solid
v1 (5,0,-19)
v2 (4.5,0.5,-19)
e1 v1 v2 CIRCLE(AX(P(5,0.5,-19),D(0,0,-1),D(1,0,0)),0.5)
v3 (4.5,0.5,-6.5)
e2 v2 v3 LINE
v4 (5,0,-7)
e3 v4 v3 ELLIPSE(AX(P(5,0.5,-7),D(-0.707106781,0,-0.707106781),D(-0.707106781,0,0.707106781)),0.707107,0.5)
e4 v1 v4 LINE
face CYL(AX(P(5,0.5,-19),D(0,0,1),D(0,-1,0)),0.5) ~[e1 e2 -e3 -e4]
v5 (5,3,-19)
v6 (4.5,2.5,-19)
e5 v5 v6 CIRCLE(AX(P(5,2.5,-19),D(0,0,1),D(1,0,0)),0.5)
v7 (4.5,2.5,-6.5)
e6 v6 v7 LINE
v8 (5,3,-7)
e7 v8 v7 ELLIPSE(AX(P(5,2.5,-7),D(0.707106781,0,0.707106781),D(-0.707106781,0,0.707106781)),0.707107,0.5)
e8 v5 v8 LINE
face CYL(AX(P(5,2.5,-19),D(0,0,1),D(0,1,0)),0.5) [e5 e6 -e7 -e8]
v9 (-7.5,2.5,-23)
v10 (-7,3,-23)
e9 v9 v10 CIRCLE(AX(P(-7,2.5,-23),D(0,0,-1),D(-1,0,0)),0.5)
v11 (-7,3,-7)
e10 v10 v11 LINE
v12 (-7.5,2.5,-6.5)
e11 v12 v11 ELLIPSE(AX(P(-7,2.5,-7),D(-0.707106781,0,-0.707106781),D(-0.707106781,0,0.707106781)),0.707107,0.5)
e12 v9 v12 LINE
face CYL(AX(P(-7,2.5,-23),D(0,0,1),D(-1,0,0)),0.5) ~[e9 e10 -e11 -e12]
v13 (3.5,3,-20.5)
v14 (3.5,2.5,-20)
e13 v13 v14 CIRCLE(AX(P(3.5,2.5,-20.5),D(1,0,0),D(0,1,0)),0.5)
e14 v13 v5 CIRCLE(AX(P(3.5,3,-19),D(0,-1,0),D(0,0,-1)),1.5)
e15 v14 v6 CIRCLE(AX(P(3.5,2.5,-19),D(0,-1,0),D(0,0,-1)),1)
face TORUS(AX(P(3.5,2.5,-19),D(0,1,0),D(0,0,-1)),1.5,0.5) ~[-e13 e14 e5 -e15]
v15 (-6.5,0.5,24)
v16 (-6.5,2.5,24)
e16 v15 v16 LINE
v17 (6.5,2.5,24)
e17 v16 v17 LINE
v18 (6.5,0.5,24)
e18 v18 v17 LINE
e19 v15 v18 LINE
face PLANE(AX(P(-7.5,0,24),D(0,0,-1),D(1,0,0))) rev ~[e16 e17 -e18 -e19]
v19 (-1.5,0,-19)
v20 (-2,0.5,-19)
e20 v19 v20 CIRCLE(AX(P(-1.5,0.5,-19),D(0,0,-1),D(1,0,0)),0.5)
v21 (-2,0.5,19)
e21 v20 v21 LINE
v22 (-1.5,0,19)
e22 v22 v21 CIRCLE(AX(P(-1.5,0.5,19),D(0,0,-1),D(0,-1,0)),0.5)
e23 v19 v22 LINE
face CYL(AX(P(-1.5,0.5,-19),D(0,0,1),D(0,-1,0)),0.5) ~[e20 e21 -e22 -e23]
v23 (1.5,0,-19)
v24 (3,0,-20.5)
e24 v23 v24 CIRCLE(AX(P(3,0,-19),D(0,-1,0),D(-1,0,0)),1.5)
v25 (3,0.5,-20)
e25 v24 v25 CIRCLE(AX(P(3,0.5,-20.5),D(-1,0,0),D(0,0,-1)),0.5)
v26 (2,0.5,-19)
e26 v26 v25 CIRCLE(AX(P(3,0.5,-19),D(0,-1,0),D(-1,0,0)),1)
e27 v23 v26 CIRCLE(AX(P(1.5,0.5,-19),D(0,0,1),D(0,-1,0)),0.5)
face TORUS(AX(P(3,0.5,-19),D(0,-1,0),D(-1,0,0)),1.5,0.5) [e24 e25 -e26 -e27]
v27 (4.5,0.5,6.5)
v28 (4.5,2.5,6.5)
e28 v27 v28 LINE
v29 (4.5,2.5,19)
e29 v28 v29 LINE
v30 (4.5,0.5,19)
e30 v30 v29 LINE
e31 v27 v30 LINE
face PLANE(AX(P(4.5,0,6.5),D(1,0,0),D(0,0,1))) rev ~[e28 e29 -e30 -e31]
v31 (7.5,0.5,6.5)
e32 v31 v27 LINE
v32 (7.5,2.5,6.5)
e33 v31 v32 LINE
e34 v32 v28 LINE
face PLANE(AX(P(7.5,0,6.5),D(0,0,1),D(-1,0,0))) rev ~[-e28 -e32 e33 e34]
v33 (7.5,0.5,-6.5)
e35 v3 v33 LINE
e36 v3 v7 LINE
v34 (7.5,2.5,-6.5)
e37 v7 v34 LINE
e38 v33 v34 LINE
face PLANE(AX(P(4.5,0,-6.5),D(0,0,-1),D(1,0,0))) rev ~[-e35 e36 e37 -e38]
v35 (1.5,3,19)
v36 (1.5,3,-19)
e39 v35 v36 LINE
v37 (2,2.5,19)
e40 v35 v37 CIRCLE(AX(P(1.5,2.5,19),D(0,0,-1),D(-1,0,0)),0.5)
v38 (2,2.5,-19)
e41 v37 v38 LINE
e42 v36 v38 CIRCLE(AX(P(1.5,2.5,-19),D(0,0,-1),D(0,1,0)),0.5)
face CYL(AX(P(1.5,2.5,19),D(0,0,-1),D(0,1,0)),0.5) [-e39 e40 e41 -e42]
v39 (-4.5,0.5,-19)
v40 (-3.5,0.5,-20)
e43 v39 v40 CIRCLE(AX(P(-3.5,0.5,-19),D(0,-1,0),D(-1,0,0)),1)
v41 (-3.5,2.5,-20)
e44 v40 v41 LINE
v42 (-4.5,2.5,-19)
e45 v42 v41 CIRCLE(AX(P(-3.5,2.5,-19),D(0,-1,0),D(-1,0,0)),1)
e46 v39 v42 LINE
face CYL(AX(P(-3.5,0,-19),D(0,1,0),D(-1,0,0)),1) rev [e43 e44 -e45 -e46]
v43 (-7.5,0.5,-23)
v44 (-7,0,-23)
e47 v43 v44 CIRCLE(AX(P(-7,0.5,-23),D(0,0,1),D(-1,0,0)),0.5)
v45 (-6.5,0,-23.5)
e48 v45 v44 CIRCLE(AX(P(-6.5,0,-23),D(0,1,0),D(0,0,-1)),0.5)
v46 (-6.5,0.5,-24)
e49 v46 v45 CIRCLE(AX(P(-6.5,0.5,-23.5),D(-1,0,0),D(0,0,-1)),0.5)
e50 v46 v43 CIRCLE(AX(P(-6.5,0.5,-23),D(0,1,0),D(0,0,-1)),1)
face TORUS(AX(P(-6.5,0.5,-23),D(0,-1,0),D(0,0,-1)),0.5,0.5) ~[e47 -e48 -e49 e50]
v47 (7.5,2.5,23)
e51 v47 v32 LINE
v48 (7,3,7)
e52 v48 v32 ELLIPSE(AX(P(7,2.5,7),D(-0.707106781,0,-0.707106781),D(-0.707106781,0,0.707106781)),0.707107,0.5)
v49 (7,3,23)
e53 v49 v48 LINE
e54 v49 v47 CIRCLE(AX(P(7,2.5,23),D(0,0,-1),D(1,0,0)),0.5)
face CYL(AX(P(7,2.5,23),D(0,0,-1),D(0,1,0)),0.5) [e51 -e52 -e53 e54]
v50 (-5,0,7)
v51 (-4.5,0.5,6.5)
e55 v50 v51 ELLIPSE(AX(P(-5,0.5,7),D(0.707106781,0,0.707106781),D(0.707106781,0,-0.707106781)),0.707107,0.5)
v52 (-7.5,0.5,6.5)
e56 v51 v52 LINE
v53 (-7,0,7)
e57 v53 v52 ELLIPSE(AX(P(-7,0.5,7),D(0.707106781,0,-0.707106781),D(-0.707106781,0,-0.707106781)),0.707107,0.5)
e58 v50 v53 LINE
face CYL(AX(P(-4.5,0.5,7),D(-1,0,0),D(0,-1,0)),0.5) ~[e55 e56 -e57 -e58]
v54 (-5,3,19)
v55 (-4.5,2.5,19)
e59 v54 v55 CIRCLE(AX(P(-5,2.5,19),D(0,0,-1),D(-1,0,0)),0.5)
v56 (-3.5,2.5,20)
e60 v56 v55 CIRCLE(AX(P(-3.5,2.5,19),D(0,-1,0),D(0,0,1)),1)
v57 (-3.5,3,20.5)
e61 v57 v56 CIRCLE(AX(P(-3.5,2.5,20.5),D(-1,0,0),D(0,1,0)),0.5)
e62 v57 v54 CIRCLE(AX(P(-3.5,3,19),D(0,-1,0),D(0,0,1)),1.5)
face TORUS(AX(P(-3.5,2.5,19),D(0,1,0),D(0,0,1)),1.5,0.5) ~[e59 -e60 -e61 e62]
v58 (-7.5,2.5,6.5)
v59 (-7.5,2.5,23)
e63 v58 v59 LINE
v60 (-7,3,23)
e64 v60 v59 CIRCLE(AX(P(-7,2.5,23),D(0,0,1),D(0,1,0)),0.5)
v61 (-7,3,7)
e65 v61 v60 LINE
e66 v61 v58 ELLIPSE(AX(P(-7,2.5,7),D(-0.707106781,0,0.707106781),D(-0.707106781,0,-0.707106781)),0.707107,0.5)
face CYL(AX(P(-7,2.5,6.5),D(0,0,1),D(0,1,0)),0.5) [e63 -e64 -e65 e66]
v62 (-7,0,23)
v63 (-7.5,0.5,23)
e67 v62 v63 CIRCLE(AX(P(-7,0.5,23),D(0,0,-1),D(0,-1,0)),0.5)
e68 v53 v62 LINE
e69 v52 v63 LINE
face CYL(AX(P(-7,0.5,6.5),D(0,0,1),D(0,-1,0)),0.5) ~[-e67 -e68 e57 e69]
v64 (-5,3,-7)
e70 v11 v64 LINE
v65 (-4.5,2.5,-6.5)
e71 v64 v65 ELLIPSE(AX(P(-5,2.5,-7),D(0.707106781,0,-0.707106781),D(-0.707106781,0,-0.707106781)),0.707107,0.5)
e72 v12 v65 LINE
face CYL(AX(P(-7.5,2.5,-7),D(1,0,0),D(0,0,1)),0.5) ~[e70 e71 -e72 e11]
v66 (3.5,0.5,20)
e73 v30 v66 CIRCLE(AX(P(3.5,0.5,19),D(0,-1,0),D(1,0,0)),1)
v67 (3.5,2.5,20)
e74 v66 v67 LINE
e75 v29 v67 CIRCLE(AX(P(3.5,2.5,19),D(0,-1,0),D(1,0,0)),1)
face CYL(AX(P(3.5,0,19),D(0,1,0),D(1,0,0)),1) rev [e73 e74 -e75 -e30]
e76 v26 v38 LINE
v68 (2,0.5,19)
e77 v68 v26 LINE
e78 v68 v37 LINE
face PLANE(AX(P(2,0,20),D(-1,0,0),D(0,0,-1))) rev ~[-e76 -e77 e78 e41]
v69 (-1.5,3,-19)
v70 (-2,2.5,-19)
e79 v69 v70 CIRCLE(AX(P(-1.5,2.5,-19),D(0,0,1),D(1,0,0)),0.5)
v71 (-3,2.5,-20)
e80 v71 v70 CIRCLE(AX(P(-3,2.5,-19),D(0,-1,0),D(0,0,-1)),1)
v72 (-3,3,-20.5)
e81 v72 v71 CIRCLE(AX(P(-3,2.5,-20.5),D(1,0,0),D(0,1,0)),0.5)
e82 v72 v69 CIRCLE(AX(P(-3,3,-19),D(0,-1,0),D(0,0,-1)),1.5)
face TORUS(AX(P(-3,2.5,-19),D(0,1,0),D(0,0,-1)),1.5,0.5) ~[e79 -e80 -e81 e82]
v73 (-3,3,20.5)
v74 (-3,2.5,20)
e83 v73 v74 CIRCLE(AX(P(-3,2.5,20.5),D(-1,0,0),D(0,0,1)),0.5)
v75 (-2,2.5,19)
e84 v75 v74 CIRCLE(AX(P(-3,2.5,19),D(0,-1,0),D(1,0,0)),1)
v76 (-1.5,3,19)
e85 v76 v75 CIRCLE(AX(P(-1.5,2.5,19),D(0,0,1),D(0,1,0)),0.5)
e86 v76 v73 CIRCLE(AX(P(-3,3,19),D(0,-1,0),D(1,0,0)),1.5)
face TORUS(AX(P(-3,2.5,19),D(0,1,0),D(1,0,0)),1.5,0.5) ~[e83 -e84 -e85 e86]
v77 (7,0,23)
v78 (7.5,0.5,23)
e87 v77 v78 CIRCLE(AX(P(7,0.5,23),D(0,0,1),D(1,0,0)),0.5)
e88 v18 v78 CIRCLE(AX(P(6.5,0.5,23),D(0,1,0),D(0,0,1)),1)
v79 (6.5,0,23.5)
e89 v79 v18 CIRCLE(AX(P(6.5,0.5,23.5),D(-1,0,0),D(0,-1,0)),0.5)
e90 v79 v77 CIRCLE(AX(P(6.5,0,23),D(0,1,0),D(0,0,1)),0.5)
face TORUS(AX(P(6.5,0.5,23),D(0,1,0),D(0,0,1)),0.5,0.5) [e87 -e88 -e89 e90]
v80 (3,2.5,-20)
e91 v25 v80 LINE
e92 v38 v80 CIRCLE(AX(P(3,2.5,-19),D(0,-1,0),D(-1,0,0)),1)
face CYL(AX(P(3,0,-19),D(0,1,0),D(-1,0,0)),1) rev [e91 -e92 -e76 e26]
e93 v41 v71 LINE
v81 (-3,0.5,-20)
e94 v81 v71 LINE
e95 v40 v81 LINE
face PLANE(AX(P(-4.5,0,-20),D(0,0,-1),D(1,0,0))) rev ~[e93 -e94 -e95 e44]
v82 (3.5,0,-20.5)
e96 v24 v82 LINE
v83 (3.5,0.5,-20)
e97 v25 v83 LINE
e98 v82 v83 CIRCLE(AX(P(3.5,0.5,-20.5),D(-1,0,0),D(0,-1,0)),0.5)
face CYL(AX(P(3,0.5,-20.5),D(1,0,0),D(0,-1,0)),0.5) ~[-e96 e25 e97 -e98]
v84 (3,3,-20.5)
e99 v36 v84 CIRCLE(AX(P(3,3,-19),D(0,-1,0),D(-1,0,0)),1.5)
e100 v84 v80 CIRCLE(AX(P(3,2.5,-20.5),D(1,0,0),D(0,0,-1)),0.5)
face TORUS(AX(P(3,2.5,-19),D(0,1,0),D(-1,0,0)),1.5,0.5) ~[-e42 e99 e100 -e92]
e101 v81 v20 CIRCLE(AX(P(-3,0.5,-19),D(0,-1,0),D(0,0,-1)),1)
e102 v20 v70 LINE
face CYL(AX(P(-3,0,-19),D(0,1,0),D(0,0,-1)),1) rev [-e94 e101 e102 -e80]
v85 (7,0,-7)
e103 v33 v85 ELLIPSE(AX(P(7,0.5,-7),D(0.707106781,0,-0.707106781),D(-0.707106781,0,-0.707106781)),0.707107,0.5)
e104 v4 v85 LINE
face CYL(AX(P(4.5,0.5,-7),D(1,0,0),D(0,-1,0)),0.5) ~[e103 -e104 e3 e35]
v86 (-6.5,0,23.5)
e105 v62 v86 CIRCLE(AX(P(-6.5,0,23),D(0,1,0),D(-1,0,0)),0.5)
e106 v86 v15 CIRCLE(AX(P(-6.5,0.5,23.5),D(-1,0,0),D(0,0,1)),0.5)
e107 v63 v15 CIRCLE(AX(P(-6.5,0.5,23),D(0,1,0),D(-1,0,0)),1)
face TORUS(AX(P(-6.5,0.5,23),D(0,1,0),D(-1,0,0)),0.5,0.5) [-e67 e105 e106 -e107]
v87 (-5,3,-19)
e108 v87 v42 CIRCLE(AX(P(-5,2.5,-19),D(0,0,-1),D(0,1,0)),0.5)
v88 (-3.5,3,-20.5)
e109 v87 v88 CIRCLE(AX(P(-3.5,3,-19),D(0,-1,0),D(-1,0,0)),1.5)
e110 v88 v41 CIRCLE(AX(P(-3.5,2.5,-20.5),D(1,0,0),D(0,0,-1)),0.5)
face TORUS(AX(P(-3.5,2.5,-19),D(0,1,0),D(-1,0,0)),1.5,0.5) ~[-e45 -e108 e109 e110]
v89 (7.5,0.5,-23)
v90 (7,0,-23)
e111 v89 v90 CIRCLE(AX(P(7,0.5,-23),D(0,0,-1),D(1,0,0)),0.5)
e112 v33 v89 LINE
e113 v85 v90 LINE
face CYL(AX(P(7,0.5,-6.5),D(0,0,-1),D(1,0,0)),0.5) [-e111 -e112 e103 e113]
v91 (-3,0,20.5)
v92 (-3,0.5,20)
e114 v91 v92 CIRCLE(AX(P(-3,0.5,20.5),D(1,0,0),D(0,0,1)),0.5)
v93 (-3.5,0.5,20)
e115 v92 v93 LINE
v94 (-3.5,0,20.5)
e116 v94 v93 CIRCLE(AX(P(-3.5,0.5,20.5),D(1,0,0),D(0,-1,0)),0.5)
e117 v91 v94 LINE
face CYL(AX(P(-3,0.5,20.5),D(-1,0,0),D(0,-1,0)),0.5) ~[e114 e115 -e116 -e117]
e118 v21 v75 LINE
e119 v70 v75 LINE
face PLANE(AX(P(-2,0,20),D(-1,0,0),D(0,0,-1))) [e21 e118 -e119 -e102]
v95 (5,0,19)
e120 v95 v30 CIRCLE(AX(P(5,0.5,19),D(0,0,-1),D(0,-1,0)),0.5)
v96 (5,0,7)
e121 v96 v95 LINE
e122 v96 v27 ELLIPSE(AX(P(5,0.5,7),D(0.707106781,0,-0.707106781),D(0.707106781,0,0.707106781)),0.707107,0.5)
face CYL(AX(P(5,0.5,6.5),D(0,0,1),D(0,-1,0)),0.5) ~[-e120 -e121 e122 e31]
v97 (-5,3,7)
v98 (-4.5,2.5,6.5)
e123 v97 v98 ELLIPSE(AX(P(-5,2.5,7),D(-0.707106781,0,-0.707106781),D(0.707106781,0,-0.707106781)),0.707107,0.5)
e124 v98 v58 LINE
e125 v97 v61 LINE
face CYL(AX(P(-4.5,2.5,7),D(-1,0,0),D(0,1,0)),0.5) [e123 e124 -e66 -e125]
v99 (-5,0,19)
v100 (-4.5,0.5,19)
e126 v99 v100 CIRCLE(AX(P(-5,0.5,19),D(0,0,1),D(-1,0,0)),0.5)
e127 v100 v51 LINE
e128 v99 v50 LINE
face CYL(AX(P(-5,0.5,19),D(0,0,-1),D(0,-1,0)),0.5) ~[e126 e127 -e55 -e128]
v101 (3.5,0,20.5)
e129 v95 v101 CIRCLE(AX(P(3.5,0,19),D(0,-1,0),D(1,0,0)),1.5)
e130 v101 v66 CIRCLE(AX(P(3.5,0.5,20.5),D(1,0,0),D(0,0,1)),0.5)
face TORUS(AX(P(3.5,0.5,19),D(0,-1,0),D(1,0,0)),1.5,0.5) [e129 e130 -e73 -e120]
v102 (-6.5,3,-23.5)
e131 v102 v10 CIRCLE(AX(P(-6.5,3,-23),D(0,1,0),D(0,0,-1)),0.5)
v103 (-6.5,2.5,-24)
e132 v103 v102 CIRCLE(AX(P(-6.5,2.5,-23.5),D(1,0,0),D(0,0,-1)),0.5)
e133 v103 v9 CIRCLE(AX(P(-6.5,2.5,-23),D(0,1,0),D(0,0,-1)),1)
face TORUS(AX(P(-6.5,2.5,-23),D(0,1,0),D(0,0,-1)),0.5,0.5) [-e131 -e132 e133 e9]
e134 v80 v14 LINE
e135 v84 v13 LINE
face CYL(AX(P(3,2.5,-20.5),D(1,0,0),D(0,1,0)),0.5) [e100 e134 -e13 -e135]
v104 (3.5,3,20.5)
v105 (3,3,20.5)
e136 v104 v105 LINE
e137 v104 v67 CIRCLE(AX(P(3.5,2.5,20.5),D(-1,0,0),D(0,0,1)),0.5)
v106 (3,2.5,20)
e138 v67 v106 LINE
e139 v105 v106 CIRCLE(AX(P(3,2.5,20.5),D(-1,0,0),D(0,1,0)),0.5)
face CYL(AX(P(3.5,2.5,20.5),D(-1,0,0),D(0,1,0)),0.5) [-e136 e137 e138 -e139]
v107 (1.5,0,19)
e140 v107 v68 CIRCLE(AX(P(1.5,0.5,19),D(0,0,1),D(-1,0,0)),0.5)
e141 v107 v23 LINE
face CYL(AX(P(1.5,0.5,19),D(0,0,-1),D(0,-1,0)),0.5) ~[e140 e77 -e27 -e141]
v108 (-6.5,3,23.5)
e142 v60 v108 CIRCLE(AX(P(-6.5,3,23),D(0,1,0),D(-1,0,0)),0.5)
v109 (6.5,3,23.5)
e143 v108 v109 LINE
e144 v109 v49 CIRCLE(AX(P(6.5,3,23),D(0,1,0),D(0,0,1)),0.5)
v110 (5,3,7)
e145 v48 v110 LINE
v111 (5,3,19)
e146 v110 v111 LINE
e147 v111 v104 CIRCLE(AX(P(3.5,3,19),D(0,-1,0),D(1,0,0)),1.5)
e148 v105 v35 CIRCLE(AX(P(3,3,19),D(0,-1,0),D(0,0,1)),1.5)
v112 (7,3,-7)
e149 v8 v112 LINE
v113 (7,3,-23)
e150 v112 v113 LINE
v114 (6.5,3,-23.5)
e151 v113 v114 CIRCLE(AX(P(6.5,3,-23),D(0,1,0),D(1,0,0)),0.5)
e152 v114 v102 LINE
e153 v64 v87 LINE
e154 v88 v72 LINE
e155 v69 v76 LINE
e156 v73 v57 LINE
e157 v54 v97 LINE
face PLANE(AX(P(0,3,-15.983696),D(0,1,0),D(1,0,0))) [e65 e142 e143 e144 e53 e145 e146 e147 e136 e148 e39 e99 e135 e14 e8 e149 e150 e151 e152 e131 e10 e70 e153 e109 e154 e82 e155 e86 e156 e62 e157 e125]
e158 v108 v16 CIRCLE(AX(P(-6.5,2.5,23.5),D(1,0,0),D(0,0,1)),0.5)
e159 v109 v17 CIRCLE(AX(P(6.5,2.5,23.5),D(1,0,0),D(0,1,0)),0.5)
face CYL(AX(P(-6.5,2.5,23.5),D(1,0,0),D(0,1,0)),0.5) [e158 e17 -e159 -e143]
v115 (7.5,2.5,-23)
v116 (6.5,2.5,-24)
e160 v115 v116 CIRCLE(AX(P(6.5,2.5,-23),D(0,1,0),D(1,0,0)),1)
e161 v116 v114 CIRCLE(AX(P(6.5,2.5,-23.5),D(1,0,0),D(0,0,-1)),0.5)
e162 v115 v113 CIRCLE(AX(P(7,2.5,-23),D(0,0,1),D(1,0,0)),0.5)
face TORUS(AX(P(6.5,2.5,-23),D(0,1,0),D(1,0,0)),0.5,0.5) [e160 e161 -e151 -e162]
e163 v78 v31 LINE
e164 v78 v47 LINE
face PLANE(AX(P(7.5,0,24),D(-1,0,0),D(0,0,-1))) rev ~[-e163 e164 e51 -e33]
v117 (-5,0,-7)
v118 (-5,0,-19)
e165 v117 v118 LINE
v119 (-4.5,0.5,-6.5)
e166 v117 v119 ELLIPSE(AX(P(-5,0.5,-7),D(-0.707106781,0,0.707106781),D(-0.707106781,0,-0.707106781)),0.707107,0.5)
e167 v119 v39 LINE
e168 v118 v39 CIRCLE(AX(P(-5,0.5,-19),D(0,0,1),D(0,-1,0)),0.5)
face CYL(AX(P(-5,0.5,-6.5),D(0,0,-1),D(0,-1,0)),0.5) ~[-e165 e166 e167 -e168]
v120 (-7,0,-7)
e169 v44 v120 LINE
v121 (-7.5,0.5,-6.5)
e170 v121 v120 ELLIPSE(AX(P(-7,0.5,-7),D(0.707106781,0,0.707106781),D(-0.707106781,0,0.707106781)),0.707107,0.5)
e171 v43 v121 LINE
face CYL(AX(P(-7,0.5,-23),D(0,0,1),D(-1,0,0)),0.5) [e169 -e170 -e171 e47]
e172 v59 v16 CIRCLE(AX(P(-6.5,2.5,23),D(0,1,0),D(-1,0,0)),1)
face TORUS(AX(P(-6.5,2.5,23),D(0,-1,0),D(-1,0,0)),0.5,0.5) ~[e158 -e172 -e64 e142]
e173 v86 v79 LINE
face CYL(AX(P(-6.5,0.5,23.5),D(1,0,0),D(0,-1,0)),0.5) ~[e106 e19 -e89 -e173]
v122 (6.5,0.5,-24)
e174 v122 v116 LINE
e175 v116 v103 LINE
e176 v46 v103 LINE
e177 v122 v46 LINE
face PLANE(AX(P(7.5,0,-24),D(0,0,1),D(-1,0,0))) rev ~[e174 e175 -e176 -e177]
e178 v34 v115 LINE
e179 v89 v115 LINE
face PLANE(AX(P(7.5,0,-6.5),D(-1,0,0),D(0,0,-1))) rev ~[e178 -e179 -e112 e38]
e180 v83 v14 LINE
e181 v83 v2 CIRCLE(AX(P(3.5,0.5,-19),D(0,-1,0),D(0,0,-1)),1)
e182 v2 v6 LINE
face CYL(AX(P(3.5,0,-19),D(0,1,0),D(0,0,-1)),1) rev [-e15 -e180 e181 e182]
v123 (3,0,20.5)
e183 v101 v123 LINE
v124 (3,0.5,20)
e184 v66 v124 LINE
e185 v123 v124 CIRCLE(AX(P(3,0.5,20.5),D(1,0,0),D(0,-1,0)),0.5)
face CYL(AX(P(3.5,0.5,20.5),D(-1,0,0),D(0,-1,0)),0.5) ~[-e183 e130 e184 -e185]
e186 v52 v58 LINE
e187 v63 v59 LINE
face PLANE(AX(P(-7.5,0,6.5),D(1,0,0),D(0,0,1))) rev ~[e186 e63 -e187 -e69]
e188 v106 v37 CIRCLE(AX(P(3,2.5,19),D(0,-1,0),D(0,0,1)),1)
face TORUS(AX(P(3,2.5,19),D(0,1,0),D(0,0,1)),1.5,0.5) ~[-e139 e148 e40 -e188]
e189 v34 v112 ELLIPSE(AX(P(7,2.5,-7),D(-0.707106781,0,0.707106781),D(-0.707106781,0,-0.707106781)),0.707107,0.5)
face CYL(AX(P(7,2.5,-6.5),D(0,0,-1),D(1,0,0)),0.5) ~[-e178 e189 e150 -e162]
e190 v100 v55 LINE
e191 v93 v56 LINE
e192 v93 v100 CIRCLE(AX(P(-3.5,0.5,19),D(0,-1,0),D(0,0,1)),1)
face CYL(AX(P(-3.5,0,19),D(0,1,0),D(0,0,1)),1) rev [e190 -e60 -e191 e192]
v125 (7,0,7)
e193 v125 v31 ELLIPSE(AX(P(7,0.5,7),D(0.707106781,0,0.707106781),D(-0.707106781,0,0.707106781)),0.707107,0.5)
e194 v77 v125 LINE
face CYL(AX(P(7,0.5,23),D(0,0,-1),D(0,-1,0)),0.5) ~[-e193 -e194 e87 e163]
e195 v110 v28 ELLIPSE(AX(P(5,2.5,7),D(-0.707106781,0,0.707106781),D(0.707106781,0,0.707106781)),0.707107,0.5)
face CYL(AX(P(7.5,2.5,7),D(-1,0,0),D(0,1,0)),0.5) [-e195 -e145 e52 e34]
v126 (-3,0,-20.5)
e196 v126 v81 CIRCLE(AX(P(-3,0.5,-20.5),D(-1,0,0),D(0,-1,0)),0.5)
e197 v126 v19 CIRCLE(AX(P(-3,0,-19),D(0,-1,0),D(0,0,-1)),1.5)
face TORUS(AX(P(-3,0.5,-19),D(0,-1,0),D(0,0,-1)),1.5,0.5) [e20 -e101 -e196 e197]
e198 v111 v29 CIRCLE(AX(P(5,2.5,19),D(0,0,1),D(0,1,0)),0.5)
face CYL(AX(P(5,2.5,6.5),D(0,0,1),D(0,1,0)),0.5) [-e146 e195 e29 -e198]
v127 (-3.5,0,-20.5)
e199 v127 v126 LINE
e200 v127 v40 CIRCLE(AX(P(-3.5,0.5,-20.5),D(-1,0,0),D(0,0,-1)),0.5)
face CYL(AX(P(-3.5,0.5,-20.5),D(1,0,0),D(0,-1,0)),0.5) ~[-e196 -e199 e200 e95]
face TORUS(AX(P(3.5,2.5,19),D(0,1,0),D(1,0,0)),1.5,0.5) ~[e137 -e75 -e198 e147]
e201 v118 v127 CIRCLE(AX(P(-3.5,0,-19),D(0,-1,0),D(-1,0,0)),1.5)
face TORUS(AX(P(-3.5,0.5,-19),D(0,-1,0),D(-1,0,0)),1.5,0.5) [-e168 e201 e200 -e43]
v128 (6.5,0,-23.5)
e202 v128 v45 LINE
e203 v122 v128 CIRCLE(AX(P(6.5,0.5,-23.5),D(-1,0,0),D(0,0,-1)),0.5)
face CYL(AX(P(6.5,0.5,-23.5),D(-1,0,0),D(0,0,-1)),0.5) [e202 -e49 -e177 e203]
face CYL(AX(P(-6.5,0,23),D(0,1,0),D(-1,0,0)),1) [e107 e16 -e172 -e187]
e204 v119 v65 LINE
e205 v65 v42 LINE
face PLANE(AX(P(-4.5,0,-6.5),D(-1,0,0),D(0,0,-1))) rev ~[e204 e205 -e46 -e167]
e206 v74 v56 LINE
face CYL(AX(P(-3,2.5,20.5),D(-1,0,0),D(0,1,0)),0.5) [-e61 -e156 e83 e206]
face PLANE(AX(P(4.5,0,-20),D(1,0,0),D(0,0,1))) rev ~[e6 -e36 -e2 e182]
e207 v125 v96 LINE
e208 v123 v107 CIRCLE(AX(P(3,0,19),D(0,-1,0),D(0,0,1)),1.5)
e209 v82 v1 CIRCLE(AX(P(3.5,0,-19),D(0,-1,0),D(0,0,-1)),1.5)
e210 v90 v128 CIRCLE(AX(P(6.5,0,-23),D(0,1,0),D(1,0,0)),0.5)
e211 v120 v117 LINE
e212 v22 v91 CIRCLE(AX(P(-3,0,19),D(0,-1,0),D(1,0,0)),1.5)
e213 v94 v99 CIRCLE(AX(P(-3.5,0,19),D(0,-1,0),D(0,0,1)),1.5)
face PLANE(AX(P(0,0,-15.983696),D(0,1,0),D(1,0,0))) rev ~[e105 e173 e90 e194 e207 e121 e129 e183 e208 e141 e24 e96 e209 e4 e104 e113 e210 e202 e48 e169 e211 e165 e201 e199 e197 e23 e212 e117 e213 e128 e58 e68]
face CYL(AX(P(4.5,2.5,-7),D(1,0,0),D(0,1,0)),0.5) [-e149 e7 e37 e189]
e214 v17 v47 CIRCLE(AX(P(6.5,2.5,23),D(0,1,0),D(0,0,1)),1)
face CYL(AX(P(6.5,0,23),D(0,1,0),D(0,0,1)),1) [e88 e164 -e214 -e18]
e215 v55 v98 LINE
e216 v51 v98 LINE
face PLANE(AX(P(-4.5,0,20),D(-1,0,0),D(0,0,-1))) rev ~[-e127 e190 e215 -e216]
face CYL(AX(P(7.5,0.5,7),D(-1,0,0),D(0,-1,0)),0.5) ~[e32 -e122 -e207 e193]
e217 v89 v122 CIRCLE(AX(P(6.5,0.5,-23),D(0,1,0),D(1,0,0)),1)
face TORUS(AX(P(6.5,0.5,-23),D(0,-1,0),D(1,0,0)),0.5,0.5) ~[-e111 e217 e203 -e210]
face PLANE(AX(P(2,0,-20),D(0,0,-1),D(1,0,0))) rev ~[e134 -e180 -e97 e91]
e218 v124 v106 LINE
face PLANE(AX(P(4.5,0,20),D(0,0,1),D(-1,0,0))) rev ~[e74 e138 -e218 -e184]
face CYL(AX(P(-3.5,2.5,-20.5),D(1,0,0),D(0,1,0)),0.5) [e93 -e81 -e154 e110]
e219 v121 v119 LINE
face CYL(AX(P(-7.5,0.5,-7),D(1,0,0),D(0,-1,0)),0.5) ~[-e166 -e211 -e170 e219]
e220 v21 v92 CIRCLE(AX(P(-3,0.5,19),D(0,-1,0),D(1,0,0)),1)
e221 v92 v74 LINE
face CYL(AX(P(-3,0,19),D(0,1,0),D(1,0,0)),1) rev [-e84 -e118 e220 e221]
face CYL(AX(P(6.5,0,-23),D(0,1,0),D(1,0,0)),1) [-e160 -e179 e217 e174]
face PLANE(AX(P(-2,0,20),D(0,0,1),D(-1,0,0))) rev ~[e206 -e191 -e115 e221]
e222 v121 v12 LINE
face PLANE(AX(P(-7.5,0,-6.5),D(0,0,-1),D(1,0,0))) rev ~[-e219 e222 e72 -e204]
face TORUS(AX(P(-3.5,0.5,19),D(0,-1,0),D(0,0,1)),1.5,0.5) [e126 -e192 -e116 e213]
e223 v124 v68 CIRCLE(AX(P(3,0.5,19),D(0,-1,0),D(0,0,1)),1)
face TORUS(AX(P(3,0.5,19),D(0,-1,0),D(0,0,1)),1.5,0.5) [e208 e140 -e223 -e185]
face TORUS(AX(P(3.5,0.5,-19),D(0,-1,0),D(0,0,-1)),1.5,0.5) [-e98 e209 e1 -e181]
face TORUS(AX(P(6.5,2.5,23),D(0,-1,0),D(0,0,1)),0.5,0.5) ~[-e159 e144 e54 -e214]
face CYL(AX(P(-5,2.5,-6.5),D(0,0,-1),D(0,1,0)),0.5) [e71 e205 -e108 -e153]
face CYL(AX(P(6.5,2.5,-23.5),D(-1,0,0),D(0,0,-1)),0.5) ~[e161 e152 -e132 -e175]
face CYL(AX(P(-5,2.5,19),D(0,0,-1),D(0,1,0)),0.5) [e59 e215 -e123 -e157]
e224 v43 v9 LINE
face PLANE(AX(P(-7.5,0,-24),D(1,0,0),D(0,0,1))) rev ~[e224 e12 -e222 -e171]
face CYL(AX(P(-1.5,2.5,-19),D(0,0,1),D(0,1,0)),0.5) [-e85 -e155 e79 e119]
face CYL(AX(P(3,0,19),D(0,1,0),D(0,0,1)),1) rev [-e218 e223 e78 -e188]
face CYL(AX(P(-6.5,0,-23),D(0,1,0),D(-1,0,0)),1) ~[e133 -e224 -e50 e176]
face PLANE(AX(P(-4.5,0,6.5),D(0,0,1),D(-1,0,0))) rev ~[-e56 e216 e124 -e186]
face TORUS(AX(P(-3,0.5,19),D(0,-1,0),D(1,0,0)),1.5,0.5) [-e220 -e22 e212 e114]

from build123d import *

# Parameters (mm, degrees)
SKETCH1_W           = 4
SKETCH1_H           = 40
BOSS_EXTRUDE1_DEPTH = 3
FILLET1_R           = 1
FILLET2_R           = 0.5


with BuildPart() as part:
    # Sketch1 → Boss-Extrude1 (new body)
    with BuildSketch(Plane(origin=(0, 0, 0), x_dir=(1, 0, 0), z_dir=(0, 1, 0))):
        Polygon((-7.5, 24), (-7.5, 6.5), (-4.5, 6.5), (-4.5, 20), (-2, 20), (2, 20), (4.5, 20), (4.5, 6.5), (7.5, 6.5), (7.5, 24), align=None)
        Polygon((-7.5, -6.5), (-7.5, -24), (7.5, -24), (7.5, -6.5), (4.5, -6.5), (4.5, -20), (2, -20), (-2, -20), (-4.5, -20), (-4.5, -6.5), align=None)
        Rectangle(SKETCH1_W, SKETCH1_H)
    extrude(amount=BOSS_EXTRUDE1_DEPTH)

    # Fillet1
    fillet1_edges = [part.edges().sort_by_distance(p)[0] for p in [
        (-7.5, 1.5, -24),
        (7.5, 1.5, -24),
        (4.5, 1.5, -20),
        (2, 1.5, -20),
        (2, 1.5, 20),
        (4.5, 1.5, 20),
        (7.5, 1.5, 24),
        (-7.5, 1.5, 24),
        (-4.5, 1.5, 20),
        (-2, 1.5, 20),
        (-2, 1.5, -20),
        (-4.5, 1.5, -20),
    ]]
    fillet(fillet1_edges, radius=FILLET1_R)

    # Fillet2
    fillet2_edges = [part.edges().sort_by_distance(p)[0] for p in [
        (-4.5, 3, -12.75),
        (-7.5, 3, -14.75),
        (-2.292893219, 0, 19.707106781),
        (-2.292893219, 3, 19.707106781),
        (-4.207106781, 0, 19.707106781),
        (-4.207106781, 3, 19.707106781),
        (-4.207106781, 0, -19.707106781),
        (-4.207106781, 3, -19.707106781),
        (2.292893219, 0, -19.707106781),
        (2.292893219, 3, -19.707106781),
        (-7.5, 0, -14.75),
        (7.5, 0, -14.75),
        (6, 0, -6.5),
        (4.5, 0, -12.75),
        (6, 0, 6.5),
        (-6, 0, 6.5),
        (-4.5, 0, -12.75),
        (-6, 0, -6.5),
        (-6, 3, 6.5),
        (-6, 3, -6.5),
        (6, 3, 6.5),
        (3.25, 0, -20),
        (3.25, 3, -20),
        (3.25, 0, 20),
        (3.25, 3, 20),
        (4.5, 0, 12.75),
        (4.5, 3, 12.75),
        (2, 0, 0),
        (2, 3, 0),
        (-2, 0, 0),
        (-2, 3, 0),
        (-3.25, 0, -20),
        (-3.25, 3, -20),
        (-3.25, 0, 20),
        (-3.25, 3, 20),
        (-4.5, 0, 12.75),
        (-4.5, 3, 12.75),
        (4.5, 3, -12.75),
        (0, 0, 24),
        (0, 3, 24),
        (0, 0, -24),
        (7.5, 0, 14.75),
        (-7.5, 0, 14.75),
        (7.207106781, 0, 23.707106781),
        (6, 3, -6.5),
        (7.207106781, 0, -23.707106781),
        (-7.207106781, 0, -23.707106781),
        (-7.207106781, 0, 23.707106781),
        (-7.5, 3, 14.75),
        (7.5, 3, 14.75),
        (0, 3, -24),
        (7.5, 3, -14.75),
        (7.207106781, 3, 23.707106781),
        (7.207106781, 3, -23.707106781),
        (-7.207106781, 3, -23.707106781),
        (-7.207106781, 3, 23.707106781),
        (4.207106781, 0, -19.707106781),
        (4.207106781, 3, -19.707106781),
        (4.207106781, 0, 19.707106781),
        (4.207106781, 3, 19.707106781),
        (2.292893219, 0, 19.707106781),
        (2.292893219, 3, 19.707106781),
        (-2.292893219, 0, -19.707106781),
        (-2.292893219, 3, -19.707106781),
    ]]
    fillet(fillet2_edges, radius=FILLET2_R)


solid = part.part
